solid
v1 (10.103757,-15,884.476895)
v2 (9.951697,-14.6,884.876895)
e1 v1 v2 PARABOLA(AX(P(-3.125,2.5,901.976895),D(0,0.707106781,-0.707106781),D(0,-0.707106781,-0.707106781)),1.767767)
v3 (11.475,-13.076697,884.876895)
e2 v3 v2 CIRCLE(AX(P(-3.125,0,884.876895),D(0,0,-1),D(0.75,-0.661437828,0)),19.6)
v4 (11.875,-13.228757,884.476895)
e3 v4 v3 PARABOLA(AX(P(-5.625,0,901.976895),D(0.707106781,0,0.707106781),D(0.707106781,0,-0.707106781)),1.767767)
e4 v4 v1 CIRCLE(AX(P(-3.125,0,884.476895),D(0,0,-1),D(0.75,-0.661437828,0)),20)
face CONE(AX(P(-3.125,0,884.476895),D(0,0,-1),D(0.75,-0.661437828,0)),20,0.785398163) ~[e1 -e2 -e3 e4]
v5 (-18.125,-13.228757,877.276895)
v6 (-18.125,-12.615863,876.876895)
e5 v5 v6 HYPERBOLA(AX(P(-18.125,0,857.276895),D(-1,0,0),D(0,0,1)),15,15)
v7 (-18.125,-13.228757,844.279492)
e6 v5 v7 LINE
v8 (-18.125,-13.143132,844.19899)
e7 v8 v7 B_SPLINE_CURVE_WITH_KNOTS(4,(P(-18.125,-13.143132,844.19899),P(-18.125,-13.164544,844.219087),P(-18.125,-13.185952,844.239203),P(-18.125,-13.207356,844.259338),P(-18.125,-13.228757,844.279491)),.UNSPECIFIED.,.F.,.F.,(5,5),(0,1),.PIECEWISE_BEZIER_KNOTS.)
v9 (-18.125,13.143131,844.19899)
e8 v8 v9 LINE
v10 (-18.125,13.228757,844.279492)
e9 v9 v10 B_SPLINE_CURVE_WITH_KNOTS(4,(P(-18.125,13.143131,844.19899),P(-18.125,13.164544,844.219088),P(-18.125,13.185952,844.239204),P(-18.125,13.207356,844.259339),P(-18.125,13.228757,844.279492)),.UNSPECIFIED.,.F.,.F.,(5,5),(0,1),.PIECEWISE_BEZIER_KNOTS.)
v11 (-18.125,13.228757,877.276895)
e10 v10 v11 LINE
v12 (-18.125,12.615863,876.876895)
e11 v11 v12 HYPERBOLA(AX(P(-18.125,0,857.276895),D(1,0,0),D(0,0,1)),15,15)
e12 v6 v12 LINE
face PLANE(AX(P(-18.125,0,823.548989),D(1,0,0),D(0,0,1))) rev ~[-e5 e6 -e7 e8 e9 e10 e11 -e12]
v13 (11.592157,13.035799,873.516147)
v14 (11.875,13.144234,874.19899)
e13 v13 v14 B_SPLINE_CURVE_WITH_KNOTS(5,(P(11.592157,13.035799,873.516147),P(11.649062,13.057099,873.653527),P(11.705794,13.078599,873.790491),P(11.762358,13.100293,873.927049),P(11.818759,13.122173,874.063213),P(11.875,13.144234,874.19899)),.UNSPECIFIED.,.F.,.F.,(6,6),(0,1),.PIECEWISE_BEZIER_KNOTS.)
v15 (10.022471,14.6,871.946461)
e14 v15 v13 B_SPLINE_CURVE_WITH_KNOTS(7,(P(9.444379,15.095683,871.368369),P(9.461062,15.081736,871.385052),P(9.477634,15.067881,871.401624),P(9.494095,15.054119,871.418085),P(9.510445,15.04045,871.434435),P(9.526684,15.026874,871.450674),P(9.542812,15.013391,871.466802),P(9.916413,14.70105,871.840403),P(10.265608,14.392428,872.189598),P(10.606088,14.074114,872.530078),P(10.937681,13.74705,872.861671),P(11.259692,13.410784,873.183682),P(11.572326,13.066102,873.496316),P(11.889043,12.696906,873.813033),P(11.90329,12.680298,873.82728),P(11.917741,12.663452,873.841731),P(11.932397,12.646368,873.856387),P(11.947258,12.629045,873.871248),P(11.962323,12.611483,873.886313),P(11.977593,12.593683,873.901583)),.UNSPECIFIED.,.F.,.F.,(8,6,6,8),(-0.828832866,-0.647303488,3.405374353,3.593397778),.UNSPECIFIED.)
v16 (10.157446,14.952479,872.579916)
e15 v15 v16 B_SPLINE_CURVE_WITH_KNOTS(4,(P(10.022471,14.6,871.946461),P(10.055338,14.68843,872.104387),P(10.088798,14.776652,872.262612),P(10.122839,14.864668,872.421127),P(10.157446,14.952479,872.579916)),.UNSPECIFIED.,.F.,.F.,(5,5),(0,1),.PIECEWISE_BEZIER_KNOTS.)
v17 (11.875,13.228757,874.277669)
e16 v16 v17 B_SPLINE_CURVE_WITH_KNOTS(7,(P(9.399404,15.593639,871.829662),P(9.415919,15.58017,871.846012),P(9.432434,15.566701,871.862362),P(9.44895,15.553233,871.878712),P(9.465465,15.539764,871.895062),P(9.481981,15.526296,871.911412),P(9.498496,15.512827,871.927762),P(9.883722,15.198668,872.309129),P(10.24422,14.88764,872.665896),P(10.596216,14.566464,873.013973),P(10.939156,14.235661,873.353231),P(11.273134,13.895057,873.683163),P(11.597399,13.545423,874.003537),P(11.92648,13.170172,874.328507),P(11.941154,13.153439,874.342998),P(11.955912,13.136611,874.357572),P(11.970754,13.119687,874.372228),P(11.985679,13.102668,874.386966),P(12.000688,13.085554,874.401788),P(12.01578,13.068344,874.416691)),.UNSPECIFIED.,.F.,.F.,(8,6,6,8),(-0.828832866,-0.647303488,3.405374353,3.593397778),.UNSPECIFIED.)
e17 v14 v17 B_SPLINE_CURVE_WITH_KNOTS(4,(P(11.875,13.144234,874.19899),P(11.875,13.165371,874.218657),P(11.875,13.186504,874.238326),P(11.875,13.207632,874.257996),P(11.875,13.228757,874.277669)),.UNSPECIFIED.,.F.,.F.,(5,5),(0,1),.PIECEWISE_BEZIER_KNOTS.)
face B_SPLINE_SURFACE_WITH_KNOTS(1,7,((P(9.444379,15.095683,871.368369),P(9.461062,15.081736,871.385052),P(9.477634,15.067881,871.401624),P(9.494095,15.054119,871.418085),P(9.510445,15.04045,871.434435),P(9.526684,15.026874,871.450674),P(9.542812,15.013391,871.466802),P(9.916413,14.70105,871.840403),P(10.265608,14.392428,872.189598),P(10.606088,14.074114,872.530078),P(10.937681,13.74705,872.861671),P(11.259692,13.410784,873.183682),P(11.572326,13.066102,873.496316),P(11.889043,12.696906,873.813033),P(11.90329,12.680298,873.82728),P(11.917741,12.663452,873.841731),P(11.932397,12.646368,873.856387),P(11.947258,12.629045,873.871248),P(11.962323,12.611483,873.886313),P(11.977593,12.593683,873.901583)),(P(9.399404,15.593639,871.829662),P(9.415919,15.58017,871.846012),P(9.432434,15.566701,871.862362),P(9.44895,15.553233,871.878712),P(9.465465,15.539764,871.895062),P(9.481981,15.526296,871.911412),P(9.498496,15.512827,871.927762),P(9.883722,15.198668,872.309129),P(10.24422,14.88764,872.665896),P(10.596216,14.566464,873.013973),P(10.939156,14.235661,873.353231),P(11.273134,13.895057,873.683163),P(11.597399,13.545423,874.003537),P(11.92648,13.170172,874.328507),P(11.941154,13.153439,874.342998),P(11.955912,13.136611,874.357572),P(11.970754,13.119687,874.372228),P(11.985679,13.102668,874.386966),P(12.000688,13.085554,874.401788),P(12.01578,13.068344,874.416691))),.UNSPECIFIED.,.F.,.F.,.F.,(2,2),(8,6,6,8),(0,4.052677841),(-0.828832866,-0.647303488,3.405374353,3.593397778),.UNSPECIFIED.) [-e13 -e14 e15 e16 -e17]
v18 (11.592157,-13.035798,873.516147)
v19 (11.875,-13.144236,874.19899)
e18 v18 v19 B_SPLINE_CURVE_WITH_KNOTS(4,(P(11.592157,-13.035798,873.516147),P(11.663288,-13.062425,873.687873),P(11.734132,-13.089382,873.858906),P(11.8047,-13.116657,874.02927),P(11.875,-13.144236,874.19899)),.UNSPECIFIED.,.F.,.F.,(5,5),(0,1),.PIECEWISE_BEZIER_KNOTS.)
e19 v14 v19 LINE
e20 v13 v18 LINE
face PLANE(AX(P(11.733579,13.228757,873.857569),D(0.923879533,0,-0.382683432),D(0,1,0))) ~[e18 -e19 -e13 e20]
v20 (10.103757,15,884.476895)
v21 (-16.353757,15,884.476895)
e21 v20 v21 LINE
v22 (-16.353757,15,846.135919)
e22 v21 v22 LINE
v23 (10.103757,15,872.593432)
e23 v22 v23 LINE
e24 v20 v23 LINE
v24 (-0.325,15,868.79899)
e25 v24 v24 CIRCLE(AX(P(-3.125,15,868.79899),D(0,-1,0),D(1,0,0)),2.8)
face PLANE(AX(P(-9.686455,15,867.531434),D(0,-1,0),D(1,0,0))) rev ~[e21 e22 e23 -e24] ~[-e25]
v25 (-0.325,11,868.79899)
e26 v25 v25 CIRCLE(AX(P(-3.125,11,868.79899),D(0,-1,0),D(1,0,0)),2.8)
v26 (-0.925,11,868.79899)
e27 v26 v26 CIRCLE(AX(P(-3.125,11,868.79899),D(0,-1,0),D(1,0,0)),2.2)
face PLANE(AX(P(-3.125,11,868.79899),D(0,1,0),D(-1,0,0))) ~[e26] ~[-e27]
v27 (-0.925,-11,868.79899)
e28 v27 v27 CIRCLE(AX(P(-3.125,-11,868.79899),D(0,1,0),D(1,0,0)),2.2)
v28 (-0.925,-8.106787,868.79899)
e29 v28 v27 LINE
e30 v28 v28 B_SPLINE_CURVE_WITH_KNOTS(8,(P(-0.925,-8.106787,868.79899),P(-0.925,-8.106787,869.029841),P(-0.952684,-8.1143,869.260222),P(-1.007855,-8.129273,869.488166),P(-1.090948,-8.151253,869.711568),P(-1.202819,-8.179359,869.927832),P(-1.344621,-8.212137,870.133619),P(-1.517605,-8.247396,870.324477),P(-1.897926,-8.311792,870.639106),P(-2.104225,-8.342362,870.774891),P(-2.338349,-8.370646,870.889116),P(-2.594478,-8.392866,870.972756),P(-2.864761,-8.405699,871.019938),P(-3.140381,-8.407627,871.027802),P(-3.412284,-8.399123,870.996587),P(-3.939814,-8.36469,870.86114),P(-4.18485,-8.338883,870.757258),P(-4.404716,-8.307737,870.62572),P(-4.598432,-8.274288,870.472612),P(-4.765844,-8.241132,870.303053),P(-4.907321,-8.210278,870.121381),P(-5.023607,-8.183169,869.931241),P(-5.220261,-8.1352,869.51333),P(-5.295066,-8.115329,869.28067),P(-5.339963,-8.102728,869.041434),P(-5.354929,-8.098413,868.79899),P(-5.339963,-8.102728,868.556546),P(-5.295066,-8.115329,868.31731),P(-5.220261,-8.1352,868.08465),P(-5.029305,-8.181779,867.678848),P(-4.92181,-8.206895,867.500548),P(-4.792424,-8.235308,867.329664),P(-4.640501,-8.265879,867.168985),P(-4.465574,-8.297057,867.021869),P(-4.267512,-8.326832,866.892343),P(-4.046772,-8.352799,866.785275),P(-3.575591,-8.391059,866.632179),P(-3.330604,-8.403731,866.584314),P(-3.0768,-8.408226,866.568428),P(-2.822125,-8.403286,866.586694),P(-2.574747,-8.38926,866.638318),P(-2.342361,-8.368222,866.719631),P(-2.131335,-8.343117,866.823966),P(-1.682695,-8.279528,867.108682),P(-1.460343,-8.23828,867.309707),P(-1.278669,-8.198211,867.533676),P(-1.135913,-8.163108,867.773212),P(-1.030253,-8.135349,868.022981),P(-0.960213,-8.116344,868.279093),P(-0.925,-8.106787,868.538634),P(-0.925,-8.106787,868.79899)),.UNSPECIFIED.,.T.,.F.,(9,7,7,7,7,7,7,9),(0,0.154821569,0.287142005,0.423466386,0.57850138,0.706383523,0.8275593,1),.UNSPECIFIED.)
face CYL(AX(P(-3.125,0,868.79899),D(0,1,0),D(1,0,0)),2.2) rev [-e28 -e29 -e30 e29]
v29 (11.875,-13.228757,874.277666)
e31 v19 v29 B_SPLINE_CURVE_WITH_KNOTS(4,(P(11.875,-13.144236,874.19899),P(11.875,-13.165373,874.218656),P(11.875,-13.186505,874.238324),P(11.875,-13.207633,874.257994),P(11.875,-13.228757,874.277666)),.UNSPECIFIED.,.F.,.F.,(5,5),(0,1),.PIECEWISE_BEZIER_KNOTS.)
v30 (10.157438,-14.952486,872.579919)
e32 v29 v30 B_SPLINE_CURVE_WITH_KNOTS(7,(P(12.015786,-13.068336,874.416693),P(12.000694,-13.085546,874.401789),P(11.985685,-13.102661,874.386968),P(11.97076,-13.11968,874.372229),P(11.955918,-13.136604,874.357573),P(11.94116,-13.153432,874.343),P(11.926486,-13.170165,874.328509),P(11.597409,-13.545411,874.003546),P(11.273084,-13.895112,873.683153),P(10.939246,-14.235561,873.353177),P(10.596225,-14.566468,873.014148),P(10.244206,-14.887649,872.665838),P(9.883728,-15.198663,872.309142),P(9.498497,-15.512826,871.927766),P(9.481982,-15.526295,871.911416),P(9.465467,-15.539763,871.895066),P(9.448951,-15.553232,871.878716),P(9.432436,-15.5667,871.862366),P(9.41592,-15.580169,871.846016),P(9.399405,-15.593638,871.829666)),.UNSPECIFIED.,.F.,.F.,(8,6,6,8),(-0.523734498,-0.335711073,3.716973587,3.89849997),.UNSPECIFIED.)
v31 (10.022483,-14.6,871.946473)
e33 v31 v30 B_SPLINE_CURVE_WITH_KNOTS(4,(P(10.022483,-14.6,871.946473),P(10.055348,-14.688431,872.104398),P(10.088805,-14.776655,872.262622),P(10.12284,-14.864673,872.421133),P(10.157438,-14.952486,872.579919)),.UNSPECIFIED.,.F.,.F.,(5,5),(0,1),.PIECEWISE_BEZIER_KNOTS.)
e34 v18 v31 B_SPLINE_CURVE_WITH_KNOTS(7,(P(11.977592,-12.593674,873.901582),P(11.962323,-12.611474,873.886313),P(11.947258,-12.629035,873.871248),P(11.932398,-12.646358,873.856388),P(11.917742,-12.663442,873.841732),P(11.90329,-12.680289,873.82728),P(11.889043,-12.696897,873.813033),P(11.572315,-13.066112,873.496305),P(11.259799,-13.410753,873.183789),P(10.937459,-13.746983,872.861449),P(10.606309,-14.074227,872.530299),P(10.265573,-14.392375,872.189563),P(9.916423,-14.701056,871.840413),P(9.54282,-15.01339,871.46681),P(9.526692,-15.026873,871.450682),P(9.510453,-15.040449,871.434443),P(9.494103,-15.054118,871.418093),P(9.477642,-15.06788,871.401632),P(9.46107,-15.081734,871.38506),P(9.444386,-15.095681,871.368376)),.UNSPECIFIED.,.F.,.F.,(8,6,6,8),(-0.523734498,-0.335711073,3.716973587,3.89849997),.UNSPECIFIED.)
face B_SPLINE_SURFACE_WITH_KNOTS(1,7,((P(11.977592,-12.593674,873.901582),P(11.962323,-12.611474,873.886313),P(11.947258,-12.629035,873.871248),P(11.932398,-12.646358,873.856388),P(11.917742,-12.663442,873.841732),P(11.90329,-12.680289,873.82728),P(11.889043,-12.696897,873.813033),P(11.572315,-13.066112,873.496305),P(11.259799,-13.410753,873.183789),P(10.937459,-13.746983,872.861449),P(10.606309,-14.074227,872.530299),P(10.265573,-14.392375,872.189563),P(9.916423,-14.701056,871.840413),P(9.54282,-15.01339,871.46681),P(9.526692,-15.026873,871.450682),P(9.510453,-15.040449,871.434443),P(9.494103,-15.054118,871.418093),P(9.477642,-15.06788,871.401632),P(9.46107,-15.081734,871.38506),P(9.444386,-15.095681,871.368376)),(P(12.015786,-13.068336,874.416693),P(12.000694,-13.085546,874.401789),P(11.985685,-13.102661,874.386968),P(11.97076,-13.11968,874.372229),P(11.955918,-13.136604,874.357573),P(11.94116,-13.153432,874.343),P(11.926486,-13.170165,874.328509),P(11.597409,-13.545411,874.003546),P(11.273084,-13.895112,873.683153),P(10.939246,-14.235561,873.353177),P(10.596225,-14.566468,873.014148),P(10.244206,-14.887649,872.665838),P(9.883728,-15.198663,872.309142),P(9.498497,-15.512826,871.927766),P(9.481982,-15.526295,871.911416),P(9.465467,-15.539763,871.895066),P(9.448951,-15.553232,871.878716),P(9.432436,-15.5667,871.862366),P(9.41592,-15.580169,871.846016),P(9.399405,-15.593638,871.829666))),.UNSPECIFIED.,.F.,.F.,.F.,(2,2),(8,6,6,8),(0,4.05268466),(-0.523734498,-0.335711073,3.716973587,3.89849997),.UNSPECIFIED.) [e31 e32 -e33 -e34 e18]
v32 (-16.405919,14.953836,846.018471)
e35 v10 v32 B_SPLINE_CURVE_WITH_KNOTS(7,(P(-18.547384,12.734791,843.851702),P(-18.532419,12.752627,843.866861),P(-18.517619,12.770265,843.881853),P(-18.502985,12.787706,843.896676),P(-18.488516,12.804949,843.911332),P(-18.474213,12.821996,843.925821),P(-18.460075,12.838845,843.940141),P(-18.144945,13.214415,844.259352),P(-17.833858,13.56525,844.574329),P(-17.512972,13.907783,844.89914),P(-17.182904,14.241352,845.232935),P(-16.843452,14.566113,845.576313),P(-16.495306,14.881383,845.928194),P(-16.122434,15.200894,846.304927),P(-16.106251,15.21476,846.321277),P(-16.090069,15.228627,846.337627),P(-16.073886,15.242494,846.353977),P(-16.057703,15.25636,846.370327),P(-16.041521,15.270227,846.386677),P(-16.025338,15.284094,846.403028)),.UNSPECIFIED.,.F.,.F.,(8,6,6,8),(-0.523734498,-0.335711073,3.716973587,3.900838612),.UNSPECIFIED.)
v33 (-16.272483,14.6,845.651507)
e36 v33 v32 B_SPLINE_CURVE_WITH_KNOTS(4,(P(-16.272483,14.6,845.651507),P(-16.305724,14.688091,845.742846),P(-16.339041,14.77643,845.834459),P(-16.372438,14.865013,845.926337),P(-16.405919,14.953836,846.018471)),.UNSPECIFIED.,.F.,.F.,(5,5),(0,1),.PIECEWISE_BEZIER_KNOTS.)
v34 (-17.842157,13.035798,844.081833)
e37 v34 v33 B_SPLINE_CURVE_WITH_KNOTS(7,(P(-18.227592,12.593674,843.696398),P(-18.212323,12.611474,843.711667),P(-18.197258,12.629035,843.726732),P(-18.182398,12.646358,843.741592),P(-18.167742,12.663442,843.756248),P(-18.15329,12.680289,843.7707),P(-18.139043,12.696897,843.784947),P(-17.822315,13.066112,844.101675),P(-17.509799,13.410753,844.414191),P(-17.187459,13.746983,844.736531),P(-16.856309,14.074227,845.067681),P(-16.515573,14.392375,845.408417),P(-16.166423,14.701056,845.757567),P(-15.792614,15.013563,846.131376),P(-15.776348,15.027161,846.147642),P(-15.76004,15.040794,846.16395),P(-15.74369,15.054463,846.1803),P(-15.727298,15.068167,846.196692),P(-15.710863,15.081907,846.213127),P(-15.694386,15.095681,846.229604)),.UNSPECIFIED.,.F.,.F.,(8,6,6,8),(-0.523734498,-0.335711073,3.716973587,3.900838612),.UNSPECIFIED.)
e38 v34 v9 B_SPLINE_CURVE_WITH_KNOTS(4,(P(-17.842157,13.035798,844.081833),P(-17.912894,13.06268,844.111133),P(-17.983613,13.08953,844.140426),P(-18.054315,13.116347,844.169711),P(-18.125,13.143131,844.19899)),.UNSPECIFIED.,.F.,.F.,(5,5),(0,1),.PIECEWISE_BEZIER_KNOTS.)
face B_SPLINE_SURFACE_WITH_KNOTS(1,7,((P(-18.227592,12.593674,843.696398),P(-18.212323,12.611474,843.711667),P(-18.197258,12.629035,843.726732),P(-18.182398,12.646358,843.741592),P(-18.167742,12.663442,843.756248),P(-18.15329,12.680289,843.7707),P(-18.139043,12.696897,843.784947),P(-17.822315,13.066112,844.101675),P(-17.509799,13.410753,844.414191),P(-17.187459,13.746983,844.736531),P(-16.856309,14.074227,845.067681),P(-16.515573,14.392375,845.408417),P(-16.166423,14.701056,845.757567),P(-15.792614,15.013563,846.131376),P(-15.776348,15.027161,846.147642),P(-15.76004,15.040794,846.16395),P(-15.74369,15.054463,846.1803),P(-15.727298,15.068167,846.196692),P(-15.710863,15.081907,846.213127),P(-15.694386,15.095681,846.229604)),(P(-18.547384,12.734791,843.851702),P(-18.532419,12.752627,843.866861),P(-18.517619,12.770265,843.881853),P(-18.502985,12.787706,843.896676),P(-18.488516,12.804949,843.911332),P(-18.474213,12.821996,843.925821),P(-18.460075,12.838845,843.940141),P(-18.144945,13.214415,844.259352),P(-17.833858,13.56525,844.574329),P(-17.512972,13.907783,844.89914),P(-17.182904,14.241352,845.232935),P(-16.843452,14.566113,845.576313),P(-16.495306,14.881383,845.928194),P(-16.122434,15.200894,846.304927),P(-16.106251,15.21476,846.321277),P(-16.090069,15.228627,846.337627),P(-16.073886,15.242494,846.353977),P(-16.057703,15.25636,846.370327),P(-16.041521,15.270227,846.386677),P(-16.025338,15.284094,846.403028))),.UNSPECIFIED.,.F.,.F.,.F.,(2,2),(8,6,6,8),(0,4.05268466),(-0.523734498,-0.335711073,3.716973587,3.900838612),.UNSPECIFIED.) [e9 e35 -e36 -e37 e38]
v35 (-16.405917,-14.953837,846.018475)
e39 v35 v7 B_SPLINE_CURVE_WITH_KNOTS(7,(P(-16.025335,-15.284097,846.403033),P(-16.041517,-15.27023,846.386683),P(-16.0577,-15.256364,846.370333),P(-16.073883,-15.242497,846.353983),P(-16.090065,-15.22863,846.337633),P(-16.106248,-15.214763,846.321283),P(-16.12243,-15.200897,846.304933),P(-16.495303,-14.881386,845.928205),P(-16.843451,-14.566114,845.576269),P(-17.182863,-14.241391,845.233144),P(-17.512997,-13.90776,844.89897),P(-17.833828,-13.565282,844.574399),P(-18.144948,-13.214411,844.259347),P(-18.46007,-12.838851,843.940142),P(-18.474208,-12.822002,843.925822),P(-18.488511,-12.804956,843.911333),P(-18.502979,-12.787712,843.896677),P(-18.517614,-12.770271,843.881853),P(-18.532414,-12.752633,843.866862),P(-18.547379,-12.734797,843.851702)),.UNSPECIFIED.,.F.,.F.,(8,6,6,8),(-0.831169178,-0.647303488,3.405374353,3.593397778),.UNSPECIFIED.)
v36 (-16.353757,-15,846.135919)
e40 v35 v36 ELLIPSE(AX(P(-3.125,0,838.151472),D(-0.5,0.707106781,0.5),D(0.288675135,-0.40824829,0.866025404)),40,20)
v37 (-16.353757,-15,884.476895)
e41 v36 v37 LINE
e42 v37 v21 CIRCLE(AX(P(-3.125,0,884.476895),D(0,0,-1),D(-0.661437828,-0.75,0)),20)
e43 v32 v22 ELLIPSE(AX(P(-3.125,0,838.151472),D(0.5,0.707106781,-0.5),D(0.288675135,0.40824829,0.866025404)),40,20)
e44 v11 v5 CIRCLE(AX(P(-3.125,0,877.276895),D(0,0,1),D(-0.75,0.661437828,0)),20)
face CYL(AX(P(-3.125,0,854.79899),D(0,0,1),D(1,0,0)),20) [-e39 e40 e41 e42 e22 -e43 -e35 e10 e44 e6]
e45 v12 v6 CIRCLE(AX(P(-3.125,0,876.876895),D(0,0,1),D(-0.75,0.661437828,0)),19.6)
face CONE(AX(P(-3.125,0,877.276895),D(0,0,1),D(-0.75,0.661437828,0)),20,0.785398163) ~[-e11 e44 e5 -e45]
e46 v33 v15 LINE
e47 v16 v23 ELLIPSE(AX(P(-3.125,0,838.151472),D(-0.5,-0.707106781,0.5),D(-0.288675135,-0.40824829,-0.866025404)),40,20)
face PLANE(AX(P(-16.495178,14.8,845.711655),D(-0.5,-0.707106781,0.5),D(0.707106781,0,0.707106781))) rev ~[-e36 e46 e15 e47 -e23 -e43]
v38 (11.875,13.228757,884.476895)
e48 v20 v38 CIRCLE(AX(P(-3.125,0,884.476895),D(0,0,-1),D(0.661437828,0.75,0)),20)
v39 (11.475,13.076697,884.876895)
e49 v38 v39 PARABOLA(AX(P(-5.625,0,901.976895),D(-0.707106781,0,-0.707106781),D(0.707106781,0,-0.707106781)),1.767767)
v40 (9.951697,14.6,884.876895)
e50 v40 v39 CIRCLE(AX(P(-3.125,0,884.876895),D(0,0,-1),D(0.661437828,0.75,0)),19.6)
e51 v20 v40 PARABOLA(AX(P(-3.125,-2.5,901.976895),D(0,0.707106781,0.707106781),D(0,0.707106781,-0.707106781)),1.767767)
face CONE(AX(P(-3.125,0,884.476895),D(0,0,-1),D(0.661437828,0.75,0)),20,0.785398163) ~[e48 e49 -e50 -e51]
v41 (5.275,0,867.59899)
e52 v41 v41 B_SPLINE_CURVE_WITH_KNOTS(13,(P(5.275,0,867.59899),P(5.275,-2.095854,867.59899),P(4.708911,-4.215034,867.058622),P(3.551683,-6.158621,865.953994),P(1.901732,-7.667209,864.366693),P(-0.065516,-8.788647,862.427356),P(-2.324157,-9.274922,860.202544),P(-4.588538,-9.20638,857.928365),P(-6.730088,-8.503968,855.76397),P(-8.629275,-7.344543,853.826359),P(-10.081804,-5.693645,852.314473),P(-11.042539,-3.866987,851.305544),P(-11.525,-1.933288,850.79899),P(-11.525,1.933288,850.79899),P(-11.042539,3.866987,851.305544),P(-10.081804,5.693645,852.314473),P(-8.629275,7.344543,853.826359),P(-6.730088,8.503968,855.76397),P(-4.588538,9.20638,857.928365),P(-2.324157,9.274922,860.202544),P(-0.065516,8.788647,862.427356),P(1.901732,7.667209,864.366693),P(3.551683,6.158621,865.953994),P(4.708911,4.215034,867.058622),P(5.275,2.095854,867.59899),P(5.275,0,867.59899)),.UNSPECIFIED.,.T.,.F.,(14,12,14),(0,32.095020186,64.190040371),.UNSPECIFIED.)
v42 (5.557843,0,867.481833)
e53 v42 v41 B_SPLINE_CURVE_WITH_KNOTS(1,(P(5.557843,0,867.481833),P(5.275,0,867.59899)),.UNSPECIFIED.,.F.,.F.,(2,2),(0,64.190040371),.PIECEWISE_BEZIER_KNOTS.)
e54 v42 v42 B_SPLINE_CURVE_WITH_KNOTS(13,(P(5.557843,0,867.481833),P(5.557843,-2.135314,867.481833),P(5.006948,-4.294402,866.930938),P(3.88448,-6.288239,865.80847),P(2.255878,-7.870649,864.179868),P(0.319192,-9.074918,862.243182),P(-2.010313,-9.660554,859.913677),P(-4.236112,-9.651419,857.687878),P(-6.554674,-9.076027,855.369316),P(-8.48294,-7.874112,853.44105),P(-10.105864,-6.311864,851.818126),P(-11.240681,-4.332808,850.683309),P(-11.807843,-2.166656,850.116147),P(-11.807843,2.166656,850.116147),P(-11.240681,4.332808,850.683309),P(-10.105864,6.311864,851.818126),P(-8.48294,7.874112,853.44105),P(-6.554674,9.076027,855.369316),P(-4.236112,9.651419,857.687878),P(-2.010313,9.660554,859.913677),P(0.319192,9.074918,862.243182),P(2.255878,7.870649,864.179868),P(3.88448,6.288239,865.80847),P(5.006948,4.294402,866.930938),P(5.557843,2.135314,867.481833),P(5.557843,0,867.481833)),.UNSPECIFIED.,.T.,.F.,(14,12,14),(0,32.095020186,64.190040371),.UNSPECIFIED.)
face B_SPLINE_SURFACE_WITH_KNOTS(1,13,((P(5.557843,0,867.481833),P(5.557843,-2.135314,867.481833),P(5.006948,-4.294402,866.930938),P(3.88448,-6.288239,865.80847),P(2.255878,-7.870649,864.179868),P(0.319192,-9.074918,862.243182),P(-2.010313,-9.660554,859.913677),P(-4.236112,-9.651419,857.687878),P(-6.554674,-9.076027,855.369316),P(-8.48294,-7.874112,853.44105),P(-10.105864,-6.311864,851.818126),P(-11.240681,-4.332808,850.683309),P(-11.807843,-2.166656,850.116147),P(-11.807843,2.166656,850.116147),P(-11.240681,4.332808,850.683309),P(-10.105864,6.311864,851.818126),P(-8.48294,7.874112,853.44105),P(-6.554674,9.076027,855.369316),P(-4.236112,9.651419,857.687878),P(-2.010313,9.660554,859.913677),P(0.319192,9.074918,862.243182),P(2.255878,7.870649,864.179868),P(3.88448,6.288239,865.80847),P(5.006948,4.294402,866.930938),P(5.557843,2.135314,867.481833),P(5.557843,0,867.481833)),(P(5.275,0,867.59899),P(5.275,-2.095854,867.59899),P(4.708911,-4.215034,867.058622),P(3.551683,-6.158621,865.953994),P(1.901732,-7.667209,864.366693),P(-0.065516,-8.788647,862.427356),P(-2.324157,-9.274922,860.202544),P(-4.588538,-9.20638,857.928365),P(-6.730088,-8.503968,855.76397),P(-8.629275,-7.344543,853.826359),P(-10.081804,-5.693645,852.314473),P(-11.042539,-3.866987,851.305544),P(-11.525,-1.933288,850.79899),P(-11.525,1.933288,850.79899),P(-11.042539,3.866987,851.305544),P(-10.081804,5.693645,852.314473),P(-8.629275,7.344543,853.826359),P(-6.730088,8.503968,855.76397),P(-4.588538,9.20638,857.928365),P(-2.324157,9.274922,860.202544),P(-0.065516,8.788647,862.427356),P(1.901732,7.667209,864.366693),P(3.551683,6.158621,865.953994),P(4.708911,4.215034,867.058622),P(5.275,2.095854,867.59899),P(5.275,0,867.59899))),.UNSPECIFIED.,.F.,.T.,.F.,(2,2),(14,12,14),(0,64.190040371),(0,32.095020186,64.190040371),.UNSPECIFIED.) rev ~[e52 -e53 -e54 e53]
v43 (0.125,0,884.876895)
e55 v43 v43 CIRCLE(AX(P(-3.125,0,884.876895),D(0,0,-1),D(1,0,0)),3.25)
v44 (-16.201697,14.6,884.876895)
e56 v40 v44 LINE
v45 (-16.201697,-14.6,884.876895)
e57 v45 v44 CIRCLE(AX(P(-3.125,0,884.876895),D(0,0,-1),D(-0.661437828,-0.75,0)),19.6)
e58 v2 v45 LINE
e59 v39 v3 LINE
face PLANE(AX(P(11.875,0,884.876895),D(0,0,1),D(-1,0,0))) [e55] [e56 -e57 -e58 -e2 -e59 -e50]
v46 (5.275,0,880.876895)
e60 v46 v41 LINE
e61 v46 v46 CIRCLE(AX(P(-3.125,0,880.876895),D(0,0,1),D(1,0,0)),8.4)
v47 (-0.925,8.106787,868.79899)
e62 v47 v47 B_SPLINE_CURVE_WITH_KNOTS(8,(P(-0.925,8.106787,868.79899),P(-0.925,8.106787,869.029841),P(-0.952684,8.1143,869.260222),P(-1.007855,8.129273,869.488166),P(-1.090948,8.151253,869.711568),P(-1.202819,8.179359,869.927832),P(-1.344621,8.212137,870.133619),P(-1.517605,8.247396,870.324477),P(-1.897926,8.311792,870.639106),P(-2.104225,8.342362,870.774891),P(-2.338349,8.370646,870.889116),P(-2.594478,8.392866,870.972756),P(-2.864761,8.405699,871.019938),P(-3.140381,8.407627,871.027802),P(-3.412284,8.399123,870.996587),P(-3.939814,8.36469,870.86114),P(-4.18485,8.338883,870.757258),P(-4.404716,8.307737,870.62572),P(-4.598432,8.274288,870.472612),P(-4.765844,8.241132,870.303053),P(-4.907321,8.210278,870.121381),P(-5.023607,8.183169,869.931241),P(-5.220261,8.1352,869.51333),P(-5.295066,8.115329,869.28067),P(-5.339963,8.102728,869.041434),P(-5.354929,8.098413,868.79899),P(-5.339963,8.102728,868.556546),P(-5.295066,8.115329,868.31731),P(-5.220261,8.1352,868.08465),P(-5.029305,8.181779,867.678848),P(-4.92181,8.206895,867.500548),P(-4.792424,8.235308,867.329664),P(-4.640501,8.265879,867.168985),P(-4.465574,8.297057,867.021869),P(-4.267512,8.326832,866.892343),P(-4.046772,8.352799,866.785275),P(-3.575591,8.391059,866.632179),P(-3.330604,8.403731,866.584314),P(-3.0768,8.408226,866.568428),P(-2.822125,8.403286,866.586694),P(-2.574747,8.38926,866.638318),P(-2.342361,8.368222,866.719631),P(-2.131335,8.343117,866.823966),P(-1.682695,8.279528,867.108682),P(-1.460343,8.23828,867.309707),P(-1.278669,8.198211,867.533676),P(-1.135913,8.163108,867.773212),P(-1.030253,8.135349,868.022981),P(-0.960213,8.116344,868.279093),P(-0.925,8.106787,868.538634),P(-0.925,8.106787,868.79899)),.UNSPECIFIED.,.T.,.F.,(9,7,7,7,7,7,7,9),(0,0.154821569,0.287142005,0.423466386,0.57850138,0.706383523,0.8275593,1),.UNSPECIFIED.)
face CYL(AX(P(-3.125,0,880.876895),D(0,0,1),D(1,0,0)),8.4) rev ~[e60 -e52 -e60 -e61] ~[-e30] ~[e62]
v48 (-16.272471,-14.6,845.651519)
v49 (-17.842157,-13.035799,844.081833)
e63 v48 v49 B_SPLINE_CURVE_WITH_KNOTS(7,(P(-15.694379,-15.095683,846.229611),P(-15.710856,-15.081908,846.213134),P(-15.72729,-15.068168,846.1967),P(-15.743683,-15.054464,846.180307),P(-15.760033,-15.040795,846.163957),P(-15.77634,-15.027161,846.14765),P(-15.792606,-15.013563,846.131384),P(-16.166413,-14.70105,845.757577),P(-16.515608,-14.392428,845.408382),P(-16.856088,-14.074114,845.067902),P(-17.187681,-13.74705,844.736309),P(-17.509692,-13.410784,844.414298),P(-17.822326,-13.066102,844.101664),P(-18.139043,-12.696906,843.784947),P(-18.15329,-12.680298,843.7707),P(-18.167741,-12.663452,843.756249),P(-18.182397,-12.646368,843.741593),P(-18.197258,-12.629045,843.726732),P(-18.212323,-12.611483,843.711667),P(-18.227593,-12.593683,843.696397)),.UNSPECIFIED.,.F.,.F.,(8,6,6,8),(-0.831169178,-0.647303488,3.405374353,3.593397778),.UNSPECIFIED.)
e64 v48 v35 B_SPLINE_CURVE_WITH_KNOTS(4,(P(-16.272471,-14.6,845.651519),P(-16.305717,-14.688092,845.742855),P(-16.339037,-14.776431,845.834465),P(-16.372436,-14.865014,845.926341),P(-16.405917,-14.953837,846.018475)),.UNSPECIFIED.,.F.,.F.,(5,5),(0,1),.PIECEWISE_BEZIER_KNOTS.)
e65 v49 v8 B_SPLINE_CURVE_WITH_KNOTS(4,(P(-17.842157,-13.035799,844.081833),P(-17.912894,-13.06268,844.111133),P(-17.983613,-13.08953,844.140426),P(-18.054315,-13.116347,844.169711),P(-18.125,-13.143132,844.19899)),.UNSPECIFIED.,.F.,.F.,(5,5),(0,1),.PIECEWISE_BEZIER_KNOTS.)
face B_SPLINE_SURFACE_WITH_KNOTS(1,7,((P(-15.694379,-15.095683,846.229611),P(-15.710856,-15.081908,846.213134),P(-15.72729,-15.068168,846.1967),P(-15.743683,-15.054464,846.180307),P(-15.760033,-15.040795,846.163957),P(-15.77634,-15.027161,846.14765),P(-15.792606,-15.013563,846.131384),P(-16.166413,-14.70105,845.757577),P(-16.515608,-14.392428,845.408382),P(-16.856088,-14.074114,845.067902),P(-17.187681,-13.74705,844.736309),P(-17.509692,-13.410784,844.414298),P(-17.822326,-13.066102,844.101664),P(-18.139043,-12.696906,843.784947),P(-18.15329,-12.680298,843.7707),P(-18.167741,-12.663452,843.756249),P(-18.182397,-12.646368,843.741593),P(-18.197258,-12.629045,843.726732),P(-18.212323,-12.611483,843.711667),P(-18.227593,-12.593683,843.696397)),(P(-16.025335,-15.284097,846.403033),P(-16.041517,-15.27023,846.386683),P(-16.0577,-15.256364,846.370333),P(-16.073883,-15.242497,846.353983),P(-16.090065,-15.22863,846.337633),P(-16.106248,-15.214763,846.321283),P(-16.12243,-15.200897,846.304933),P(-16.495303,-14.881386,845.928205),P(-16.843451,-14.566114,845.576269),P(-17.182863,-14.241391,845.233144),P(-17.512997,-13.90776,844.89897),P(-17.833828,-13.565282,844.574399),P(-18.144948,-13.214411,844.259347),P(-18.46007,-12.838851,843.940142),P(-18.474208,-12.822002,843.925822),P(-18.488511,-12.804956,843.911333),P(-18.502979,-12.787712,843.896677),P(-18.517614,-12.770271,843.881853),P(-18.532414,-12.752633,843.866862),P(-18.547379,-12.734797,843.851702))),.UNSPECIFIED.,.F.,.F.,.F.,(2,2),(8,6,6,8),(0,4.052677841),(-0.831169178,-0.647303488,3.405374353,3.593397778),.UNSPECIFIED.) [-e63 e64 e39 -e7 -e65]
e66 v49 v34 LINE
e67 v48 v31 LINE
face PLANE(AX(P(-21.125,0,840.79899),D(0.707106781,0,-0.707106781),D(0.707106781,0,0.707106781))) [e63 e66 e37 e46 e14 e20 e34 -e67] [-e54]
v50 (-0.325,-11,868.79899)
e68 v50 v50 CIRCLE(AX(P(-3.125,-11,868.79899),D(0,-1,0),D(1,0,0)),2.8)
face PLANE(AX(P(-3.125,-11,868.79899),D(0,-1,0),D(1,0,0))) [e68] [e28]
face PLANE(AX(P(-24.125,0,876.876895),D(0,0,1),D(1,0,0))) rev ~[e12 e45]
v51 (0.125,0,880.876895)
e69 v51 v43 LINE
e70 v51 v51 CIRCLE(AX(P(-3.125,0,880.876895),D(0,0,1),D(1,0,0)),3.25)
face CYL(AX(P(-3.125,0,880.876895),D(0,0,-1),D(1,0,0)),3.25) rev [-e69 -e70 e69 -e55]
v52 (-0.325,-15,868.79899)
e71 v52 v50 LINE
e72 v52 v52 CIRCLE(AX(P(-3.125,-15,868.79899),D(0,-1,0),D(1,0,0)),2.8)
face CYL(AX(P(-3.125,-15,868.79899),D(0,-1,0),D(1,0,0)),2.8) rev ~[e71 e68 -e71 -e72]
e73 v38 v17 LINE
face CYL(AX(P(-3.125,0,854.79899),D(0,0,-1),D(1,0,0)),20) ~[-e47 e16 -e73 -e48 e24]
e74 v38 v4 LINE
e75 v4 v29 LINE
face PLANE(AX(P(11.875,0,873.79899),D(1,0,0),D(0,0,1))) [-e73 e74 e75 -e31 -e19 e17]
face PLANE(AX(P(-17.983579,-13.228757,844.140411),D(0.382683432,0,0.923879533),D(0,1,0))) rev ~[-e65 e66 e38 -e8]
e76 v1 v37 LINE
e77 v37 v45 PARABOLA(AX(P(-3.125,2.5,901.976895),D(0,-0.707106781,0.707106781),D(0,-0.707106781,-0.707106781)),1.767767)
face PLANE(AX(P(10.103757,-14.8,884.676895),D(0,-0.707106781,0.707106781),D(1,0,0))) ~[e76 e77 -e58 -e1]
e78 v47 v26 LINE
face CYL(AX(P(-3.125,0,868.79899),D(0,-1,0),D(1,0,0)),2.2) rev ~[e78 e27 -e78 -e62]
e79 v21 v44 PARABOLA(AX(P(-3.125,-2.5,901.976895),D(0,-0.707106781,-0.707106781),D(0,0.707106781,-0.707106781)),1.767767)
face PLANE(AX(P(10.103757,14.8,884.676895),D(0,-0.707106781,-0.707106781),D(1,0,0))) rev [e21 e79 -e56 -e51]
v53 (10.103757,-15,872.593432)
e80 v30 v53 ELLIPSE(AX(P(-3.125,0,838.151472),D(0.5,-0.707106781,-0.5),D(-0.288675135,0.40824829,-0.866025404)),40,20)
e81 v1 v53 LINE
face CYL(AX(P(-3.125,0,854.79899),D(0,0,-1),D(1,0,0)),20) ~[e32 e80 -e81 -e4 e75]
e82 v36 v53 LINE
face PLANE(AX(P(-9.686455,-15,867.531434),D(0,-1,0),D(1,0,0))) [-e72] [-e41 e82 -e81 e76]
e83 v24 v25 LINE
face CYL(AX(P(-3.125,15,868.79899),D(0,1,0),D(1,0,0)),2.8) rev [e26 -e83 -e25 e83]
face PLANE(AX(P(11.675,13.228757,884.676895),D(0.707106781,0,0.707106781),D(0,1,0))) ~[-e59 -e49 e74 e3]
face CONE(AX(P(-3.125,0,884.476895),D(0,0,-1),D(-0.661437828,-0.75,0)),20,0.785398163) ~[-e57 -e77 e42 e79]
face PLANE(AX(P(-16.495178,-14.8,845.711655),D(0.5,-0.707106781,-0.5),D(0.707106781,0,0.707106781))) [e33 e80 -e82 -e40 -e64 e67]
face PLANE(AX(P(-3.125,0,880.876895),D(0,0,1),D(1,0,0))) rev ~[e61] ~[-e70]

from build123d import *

# Parameters (mm, degrees)
PAD045_DEPTH         = 15
SKETCH178_R          = 8.4
POCKET110_DEPTH      = 40.078905
SKETCH180_R          = 3.25
POCKET111_DEPTH      = 4.001
SKETCH181_R          = 62.5
SKETCH181_R_2        = 20
POCKET112_DEPTH      = 14.001
POCKET112_DEPTH_BACK = 30.078905
SKETCH183_R          = 2.2
POCKET114_DEPTH      = 15.001
POCKET114_DEPTH_BACK = 15.001
SKETCH184_W          = 6
SKETCH184_H          = 53.327905
POCKET193_DEPTH      = 15.001
POCKET193_DEPTH_BACK = 15.001
SKETCH286_R          = 2.8
POCKET194_DEPTH      = 4
CHAMFER004_SIZE      = 0.4


with BuildPart() as part:
    # Sketch177 → Pad045 (new body, symmetric)
    with BuildSketch(Plane.XZ):
        Polygon((-18, -14), (15, 19), (15, 30.077905), (-20, 30.077905), (-20, -14), align=None)
    extrude(amount=PAD045_DEPTH, both=True)

    # Sketch178 (on DatumPlane) → Pocket110 (cut, through all)
    with BuildSketch(Plane.XY.offset(26.077905)):
        Circle(SKETCH178_R)
    extrude(amount=-POCKET110_DEPTH, mode=Mode.SUBTRACT)

    # Sketch180 (on DatumPlane) → Pocket111 (cut, through all)
    with BuildSketch(Plane.XY.offset(26.077905)):
        Circle(SKETCH180_R)
    extrude(amount=POCKET111_DEPTH, mode=Mode.SUBTRACT)

    # Sketch181 → Pocket112 (cut, two sides)
    with BuildSketch(Plane.XY) as pocket112_sk:
        Circle(SKETCH181_R)
        Circle(SKETCH181_R_2, mode=Mode.SUBTRACT)
    extrude(amount=-POCKET112_DEPTH, mode=Mode.SUBTRACT)
    extrude(pocket112_sk.sketch, amount=POCKET112_DEPTH_BACK, mode=Mode.SUBTRACT)

    # Sketch183 → Pocket114 (cut, two sides)
    with BuildSketch(Plane.XZ) as pocket114_sk:
        with Locations((0, 14)):
            Circle(SKETCH183_R)
    extrude(amount=-POCKET114_DEPTH, mode=Mode.SUBTRACT)
    extrude(pocket114_sk.sketch, amount=POCKET114_DEPTH_BACK, mode=Mode.SUBTRACT)

    # Sketch184 → Pocket193 (cut, two sides)
    with BuildSketch(Plane.XZ) as pocket193_sk:
        with Locations((-18, -4.586048)):
            Rectangle(SKETCH184_W, SKETCH184_H)
    extrude(amount=-POCKET193_DEPTH, mode=Mode.SUBTRACT)
    extrude(pocket193_sk.sketch, amount=POCKET193_DEPTH_BACK, mode=Mode.SUBTRACT)

    # Sketch286 (on Face7 of Pad045) → Pocket194 (cut)
    with BuildSketch(Plane.XZ.offset(15)):
        with Locations((0, 14)):
            Circle(SKETCH286_R)
    pocket194 = extrude(amount=-POCKET194_DEPTH, mode=Mode.SUBTRACT)

    # Mirrored010: Pocket194 across XZ
    add(pocket194.mirror(Plane.XZ), mode=Mode.SUBTRACT)

    # Chamfer004
    chamfer004_edges = [part.edges().sort_by_distance(p)[0] for p in [
        (-18.228757, 8.228757, 30.077905),
        (-18.228757, -8.228757, 30.077905),
        (0, 15, 30.077905),
        (14.142136, 14.142136, 30.077905),
        (15, 0, 30.077905),
        (14.142136, -14.142136, 30.077905),
        (0, -15, 30.077905),
        (15, 0, 19),
        (14.132889, 14.151376, 18.132889),
        (0, 15, 4),
        (14.132889, -14.151376, 18.132889),
        (0, -15, 4),
        (-8.399998, -0.005359, -4.399998),
        (-14.132889, 14.151376, -10.132889),
        (-15, 0, -11),
        (-14.132889, -14.151376, -10.132889),
        (-18.708287, -7.071068, 22.077905),
        (-18.708287, 7.071068, 22.077905),
    ]]
    chamfer(chamfer004_edges, length=CHAMFER004_SIZE)


with BuildPart() as part_1:
    # Body022036 placement: moved
    add(part.part.moved(Location((-3.125, 0, 854.79899))))


solid = part_1.part
